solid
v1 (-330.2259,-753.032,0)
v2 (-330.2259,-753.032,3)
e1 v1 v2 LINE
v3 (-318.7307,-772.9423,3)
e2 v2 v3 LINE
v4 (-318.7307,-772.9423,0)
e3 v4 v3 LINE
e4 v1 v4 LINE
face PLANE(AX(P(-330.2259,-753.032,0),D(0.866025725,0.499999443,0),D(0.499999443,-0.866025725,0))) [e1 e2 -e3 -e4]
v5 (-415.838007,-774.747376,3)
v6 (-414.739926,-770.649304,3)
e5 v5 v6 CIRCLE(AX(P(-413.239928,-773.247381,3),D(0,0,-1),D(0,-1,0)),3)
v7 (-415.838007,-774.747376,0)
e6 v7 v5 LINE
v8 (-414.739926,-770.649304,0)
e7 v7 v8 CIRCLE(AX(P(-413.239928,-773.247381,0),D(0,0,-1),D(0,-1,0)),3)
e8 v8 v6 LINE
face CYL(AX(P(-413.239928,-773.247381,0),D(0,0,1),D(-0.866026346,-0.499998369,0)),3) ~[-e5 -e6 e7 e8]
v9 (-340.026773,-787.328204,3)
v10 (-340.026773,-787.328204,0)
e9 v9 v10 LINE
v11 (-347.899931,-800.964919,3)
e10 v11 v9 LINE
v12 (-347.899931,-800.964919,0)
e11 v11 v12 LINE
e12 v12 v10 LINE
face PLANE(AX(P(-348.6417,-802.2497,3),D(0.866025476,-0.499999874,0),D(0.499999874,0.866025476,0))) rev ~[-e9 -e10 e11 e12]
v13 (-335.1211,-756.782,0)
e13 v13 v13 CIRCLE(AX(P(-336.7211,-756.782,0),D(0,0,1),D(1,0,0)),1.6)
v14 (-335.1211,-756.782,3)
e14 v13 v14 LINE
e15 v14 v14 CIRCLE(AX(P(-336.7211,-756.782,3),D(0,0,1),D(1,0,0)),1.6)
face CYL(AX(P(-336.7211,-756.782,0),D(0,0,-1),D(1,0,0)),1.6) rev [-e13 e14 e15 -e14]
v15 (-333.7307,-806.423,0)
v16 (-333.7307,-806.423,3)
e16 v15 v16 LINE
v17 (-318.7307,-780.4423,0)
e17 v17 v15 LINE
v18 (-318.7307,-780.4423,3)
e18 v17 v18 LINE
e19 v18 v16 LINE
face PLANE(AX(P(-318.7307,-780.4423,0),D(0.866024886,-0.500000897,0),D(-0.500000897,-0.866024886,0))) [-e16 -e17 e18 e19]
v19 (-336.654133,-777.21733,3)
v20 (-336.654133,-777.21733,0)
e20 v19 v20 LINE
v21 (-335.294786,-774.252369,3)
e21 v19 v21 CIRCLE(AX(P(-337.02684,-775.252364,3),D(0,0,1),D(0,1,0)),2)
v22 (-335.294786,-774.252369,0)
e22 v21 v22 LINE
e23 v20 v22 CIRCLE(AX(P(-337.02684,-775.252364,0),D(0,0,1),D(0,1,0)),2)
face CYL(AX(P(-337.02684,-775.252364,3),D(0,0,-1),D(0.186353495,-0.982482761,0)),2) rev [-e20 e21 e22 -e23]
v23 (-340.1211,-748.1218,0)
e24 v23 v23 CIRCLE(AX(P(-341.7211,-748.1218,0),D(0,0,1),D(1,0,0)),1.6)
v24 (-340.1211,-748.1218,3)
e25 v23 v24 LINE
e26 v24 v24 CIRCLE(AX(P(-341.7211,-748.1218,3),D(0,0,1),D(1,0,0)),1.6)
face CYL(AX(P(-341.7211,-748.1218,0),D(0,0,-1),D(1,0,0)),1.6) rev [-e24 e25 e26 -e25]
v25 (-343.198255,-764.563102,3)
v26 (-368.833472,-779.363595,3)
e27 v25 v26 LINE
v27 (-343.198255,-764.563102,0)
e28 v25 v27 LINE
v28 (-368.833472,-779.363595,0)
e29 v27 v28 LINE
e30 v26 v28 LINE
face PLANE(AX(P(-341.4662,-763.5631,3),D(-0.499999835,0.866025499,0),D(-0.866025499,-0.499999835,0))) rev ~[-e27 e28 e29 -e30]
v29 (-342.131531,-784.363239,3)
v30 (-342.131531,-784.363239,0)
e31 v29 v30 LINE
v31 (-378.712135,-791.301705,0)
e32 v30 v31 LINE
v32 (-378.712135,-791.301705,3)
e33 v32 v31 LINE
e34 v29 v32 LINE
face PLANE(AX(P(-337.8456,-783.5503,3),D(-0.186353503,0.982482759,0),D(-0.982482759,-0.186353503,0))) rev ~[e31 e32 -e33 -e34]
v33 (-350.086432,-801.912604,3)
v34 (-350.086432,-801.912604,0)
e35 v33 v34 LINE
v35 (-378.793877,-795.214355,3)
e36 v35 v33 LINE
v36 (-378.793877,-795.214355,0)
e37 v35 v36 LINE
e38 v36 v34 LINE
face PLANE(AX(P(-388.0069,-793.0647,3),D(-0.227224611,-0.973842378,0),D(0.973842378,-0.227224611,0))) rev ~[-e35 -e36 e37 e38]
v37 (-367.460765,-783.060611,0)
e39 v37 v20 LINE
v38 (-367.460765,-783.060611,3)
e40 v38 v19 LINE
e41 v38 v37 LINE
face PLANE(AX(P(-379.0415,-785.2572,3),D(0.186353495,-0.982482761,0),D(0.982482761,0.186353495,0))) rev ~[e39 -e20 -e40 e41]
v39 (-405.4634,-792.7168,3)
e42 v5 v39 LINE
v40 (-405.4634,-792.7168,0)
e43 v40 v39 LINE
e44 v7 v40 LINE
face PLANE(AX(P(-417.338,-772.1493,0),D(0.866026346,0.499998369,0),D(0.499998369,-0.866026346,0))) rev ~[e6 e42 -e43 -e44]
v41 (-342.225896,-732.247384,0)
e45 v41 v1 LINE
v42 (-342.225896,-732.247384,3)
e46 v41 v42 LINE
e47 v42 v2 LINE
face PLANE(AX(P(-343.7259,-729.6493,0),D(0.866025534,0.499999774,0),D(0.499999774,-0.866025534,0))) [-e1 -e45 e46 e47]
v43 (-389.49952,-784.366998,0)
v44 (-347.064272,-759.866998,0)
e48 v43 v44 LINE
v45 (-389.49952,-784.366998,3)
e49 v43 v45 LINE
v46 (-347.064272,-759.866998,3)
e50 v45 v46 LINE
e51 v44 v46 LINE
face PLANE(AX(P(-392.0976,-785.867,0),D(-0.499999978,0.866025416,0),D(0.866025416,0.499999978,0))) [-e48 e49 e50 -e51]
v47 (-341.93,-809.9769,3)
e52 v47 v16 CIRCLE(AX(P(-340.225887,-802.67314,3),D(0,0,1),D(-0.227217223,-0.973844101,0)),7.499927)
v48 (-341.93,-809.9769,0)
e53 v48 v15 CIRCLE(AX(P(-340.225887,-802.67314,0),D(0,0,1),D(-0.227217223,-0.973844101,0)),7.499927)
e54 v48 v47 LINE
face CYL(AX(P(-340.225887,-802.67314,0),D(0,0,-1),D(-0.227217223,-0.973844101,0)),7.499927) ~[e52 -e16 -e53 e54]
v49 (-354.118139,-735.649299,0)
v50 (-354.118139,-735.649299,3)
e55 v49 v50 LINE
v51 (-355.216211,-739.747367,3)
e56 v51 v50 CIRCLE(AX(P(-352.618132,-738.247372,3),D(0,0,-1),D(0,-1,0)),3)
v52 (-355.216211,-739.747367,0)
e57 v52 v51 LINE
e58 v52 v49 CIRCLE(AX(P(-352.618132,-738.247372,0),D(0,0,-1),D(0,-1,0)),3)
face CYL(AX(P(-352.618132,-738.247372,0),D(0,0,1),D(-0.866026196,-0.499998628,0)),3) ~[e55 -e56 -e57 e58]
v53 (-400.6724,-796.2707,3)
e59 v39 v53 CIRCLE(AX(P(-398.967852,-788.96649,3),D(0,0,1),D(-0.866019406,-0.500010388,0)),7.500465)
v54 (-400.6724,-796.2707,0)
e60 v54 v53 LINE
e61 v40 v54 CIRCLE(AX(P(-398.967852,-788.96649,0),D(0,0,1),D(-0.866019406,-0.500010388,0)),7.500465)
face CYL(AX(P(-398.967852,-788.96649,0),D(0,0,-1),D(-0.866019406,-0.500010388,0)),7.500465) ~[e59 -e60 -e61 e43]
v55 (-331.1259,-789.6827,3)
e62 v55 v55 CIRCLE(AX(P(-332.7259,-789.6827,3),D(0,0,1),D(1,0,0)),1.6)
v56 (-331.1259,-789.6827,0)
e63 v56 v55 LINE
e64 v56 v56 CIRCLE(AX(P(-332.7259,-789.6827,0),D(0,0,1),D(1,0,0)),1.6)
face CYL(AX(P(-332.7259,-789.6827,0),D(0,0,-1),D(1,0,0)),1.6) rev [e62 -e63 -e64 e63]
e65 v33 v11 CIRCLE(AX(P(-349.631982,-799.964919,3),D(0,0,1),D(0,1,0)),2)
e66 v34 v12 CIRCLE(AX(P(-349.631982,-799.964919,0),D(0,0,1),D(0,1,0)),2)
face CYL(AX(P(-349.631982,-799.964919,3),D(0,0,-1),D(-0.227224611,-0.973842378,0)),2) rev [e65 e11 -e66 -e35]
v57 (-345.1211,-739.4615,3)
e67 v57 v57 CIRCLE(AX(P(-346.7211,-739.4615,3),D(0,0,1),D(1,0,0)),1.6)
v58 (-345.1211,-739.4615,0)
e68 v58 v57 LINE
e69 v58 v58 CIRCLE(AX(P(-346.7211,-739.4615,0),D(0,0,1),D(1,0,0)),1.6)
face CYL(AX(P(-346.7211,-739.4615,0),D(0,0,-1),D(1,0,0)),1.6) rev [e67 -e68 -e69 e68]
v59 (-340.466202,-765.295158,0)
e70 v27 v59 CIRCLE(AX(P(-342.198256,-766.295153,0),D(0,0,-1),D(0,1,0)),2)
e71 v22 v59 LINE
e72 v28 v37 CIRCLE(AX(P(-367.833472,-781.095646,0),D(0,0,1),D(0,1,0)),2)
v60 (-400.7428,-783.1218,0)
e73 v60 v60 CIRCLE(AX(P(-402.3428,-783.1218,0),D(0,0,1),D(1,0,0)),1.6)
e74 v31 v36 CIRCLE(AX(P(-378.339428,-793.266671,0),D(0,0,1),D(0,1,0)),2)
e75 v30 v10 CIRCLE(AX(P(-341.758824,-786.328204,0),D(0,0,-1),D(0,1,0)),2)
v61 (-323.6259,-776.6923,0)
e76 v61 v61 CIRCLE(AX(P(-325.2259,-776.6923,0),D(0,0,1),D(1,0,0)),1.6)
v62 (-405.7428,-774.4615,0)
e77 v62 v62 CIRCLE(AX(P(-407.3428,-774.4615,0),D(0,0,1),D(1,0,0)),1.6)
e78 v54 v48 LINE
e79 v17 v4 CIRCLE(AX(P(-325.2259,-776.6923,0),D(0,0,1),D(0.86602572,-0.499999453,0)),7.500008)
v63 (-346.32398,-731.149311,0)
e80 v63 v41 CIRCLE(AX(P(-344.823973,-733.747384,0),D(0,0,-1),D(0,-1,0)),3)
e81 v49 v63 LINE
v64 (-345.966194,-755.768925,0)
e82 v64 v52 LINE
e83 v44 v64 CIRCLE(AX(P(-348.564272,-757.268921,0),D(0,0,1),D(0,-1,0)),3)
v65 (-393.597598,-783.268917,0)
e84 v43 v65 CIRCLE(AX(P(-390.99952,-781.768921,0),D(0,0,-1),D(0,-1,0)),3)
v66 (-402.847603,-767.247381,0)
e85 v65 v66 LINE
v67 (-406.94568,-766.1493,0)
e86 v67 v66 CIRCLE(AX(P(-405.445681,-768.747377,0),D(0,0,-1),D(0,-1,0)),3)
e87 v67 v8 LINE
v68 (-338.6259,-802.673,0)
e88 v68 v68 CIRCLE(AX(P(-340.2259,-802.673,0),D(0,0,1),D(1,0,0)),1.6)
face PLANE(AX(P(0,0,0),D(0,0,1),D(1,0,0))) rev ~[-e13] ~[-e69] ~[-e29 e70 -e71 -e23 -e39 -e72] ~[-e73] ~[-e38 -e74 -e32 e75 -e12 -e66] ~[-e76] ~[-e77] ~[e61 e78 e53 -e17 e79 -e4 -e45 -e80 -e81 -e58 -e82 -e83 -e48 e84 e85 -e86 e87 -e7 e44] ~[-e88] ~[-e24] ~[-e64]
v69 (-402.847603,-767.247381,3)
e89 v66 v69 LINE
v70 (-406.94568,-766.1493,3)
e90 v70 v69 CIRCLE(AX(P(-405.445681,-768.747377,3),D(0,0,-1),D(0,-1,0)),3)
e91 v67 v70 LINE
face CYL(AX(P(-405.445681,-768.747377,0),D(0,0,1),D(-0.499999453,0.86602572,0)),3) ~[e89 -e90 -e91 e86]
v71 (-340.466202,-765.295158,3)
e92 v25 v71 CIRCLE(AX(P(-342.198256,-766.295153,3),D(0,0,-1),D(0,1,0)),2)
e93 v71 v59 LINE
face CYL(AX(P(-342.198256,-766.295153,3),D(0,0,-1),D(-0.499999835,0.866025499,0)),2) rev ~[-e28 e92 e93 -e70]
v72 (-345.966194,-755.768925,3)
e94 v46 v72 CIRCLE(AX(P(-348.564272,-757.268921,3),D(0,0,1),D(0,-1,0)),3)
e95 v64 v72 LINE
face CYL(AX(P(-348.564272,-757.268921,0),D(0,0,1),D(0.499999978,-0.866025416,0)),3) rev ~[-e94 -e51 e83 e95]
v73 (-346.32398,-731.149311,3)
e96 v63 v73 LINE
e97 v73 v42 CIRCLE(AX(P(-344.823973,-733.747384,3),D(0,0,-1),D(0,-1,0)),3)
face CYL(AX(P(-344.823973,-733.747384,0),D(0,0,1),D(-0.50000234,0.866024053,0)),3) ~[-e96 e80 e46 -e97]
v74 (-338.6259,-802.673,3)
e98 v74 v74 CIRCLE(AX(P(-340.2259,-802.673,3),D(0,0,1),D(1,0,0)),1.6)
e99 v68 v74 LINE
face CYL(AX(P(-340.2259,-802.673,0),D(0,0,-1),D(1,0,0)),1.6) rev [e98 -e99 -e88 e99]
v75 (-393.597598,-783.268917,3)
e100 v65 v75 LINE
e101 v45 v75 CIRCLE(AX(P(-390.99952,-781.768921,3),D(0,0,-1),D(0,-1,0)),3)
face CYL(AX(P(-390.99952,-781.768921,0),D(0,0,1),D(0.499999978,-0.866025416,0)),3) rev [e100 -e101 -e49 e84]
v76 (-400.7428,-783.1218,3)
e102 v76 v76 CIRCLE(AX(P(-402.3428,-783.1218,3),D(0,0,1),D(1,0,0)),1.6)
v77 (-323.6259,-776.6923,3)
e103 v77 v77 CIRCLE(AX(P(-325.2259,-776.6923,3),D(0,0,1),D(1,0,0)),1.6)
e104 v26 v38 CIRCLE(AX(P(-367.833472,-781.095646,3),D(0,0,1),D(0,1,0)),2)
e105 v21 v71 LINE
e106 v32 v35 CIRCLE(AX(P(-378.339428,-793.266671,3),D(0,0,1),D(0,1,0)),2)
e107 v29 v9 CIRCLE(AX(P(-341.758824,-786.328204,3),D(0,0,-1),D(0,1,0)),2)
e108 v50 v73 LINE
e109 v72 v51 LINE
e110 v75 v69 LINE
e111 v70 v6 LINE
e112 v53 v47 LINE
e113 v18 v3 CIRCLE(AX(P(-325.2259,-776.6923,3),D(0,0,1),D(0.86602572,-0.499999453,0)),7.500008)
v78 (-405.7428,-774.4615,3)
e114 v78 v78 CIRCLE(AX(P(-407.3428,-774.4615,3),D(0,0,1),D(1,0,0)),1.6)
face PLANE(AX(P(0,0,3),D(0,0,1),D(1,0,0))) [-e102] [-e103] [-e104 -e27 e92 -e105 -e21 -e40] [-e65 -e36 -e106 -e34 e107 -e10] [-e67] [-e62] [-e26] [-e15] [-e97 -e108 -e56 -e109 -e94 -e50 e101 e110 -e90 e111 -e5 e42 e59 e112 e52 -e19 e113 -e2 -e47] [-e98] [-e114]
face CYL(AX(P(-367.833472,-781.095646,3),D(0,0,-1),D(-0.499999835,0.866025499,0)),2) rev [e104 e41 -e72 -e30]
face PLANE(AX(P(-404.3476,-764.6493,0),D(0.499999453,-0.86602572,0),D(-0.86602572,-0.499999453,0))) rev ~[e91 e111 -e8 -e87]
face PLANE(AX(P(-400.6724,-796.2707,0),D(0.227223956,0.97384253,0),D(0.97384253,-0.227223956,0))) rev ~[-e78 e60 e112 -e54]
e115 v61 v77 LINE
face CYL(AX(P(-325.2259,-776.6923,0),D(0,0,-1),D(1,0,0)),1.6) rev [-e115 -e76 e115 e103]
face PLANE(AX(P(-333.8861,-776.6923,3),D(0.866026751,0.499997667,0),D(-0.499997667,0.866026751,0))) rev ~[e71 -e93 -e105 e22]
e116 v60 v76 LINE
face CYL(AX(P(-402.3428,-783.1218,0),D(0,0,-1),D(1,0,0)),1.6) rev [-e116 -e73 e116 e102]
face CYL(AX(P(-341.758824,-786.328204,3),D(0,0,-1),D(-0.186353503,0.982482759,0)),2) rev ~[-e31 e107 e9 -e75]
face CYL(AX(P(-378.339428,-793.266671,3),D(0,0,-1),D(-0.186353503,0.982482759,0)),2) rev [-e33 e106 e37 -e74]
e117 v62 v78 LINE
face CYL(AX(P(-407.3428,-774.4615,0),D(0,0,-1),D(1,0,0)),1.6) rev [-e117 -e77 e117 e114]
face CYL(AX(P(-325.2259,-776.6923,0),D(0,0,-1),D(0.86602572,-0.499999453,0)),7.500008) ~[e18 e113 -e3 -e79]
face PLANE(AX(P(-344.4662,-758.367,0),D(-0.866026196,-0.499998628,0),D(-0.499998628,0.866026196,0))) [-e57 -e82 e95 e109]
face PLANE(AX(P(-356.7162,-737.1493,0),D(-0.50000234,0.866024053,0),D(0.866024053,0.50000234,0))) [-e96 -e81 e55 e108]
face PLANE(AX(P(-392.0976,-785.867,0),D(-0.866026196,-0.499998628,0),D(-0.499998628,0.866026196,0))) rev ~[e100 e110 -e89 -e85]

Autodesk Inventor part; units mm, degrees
ref_plane "YZ Plane" through (0, 0, 0) normal (1, 0, 0) x (0, 1, 0)
ref_plane "XZ Plane" through (0, 0, 0) normal (0, 1, 0) x (-1, 0, 0)
ref_plane "XY Plane" through (0, 0, 0) normal (0, 0, 1) x (1, 0, 0)
sketch "スケッチ1" plane through (0, 0, 0) normal (0, 0, 1) x (1, 0, 0)
  line L0 (67.5, 17.5) -> (-67.5, 17.5) construction
  line L1 (-67.5, 17.5) -> (-67.5, -17.5) construction
  line L2 (-67.5, -17.5) -> (67.5, -17.5) construction
  line L3 (67.5, -17.5) -> (67.5, 17.5) construction
  line L4 (67.5, 17.5) -> (-67.5, -17.5) construction
  line L5 (-67.5, 17.5) -> (67.5, -17.5) construction
  circle A0 centre (-60, 35) radius 1.6 construction
  circle A1 centre (-70, 35) radius 1.6 construction
  line L6 (-77.5, 27.5) -> (-53, 27.5) construction
  line L7 (-53, 27.5) -> (-53, 42.5) construction
  line L8 (-53, 42.5) -> (-80, 42.5) construction
  line L9 (-77.5, 27.5) -> (-77.5, -27.5) construction
  line L10 (-77.5, -27.5) -> (-53, -27.5) construction
  line L11 (-53, -27.5) -> (-53, -42.5) construction
  line L12 (-53, -42.5) -> (-80, -42.5) construction
  circle A2 centre (-60, -35) radius 1.6 construction
  circle A3 centre (-70, -35) radius 1.6 construction
  circle A4 centre (-80, -35) radius 1.6 construction
  line L13 (124.2308, -31.7536) -> (484.5935, -392.1164)
  line L14 (484.5935, -392.1164) -> (488.7129, -553.575)
  line L15 (-80, 21.2868) -> (-468.838, -367.5512) construction
  line L16 (-468.838, -367.5512) -> (-479.4446, -356.9446)
  line L17 (-479.4446, -356.9446) -> (-90.6066, 31.8934) construction
  line L18 (-90.6066, 31.8934) -> (-80, 21.2868) construction
  line L19 (-80, 42.5) -> (-80, 5.3052) construction
  circle A5 centre (-92.3744, 19.519) radius 1.6 construction
  circle A6 centre (-102.981, 8.9124) radius 1.6 construction
  circle A7 centre (-113.5876, -1.6942) radius 1.6 construction
  line L20 (-92.3744, 19.519) -> (-113.5876, -1.6942) construction
  circle A8 centre (-437.941, -345.2067) radius 1.6
  circle A9 centre (-426.1402, -333.4059) radius 1.6
  line L21 (-388.4374, -772.2067) -> (-358.1265, -754.7067) construction
  line L22 (-358.1265, -754.7067) -> (-425.6265, -637.7933) construction
  line L23 (-455.9374, -655.2933) -> (-358.1265, -754.7067) construction
  line L24 (-388.4374, -772.2067) -> (-425.6265, -637.7933) construction
  line L25 (-455.9374, -655.2933) -> (-388.4374, -772.2067) construction
  line L26 (-425.6265, -637.7933) -> (-455.9374, -655.2933) construction
  line L27 (455.9374, -655.2933) -> (425.6265, -637.7933) construction
  line L28 (425.6265, -637.7933) -> (358.1265, -754.7067) construction
  line L29 (388.4374, -772.2067) -> (425.6265, -637.7933) construction
  line L30 (455.9374, -655.2933) -> (358.1265, -754.7067) construction
  line L31 (388.4374, -772.2067) -> (455.9374, -655.2933) construction
  line L32 (358.1265, -754.7067) -> (388.4374, -772.2067) construction
  line L33 (0, 0) -> (0, -263.4473) construction
  circle A10 centre (80, -35) radius 1.6 construction
  line L34 (67.5, 17.5) -> (67.5, -17.5) construction
  line L35 (77.5, 27.5) -> (53, 27.5) construction
  line L36 (77.5, 27.5) -> (77.5, -27.5) construction
  line L37 (77.5, -27.5) -> (53, -27.5) construction
  circle A11 centre (60, -35) radius 1.6 construction
  circle A12 centre (70, -35) radius 1.6 construction
  line L38 (53, -27.5) -> (53, -42.5) construction
  line L39 (53, -42.5) -> (80, -42.5) construction
  circle A13 centre (60, 35) radius 1.6 construction
  circle A14 centre (70, 35) radius 1.6 construction
  line L40 (80, 42.5) -> (80, 5.3052) construction
  line L41 (53, 42.5) -> (80, 42.5) construction
  line L42 (53, 27.5) -> (53, 42.5) construction
  line L43 (-392.0976, -785.867) -> (-404.3476, -764.6493)
  line L44 (-388.4374, -772.2067) -> (-358.1265, -754.7067) construction
  line L45 (-392.0976, -785.867) -> (-344.4662, -758.367)
  circle A15 centre (-336.7211, -756.782) radius 1.6
  circle A16 centre (-341.7211, -748.1218) radius 1.6
  line L46 (-343.7259, -729.6493) -> (-330.2259, -753.032)
  circle A17 centre (-346.7211, -739.4615) radius 1.6
  line L47 (-356.7162, -737.1493) -> (-343.7259, -729.6493)
  line L48 (-344.4662, -758.367) -> (-356.7162, -737.1493)
  circle A18 centre (-407.3428, -774.4615) radius 1.6
  circle A19 centre (-402.3428, -783.1218) radius 1.6
  line L49 (-404.3476, -764.6493) -> (-417.338, -772.1493)
  line L50 (-417.338, -772.1493) -> (-405.4634, -792.7168)
  line L51 (-403.838, -795.532) -> (-371.6264, -776.9346) construction
  line L52 (-425.6265, -637.7933) -> (-455.9374, -655.2933) construction
  line L53 (-409.7162, -645.3507) -> (-396.7259, -637.8507)
  circle A20 centre (-406.7211, -635.5385) radius 1.6
  line L54 (-455.9374, -655.2933) -> (-425.6265, -637.7933) construction
  circle A21 centre (-411.7211, -626.8782) radius 1.6
  line L55 (-469.5976, -651.633) -> (-421.9662, -624.133)
  line L56 (-421.9662, -624.133) -> (-409.7162, -645.3507)
  line L57 (-396.7259, -637.8507) -> (-410.2259, -614.468)
  circle A22 centre (-416.7211, -618.218) radius 1.6
  line L58 (-469.5976, -651.633) -> (-457.3476, -672.8507)
  circle A23 centre (-467.3428, -670.5385) radius 1.6
  circle A24 centre (-472.3428, -661.8782) radius 1.6
  line L59 (-483.838, -656.968) -> (-451.6264, -638.3706) construction
  line L60 (-470.338, -680.3507) -> (-483.838, -656.968)
  line L61 (-457.3476, -672.8507) -> (-470.338, -680.3507)
  line L62 (469.5976, -651.633) -> (457.3476, -672.8507)
  line L63 (455.9374, -655.2933) -> (425.6265, -637.7933) construction
  line L64 (469.5976, -651.633) -> (421.9662, -624.133)
  circle A25 centre (416.7211, -618.218) radius 1.6
  circle A26 centre (411.7211, -626.8782) radius 1.6
  line L65 (396.7259, -637.8507) -> (410.2259, -614.468)
  circle A27 centre (406.7211, -635.5385) radius 1.6
  line L66 (409.7162, -645.3507) -> (396.7259, -637.8507)
  line L67 (421.9662, -624.133) -> (409.7162, -645.3507)
  circle A28 centre (467.3428, -670.5385) radius 1.6
  circle A29 centre (472.3428, -661.8782) radius 1.6
  line L68 (457.3476, -672.8507) -> (470.338, -680.3507)
  line L69 (470.338, -680.3507) -> (483.838, -656.968)
  line L70 (483.838, -656.968) -> (451.6264, -638.3706) construction
  line L71 (358.1265, -754.7067) -> (388.4374, -772.2067) construction
  line L72 (356.7162, -737.1493) -> (343.7259, -729.6493)
  circle A30 centre (346.7211, -739.4615) radius 1.6
  line L73 (388.4374, -772.2067) -> (358.1265, -754.7067) construction
  circle A31 centre (341.7211, -748.1218) radius 1.6
  line L74 (392.0976, -785.867) -> (344.4662, -758.367)
  line L75 (344.4662, -758.367) -> (356.7162, -737.1493)
  line L76 (343.7259, -729.6493) -> (330.2259, -753.032)
  circle A32 centre (336.7211, -756.782) radius 1.6
  line L77 (392.0976, -785.867) -> (404.3476, -764.6493)
  circle A33 centre (407.3428, -774.4615) radius 1.6
  circle A34 centre (402.3428, -783.1218) radius 1.6
  line L78 (403.838, -795.532) -> (371.6264, -776.9346) construction
  line L79 (417.338, -772.1493) -> (403.838, -795.532)
  line L80 (404.3476, -764.6493) -> (417.338, -772.1493)
  line L81 (-483.838, -367.5512) -> (-468.838, -367.5512)
  line L82 (-468.838, -367.5512) -> (-468.838, -648.3077) construction
  line L83 (-468.838, -648.3077) -> (-483.838, -648.3077) construction
  line L84 (-483.838, -648.3077) -> (-483.838, -367.5512) construction
  line L85 (-283.2277, -604.4352) -> (-262.2277, -640.8083) construction
  line L86 (345.2492, -497.0108) -> (305.7786, -565.3759) construction
  line L87 (250, -655.004) -> (-250, -655.004) construction
  line L88 (-250, -655.004) -> (-250, -1155.004) construction
  line L89 (-250, -1155.004) -> (250, -1155.004) construction
  line L90 (250, -1155.004) -> (250, -655.004) construction
  line L91 (250, -655.004) -> (-250, -1155.004) construction
  line L92 (-250, -655.004) -> (250, -1155.004) construction
  line L93 (-12.841, -157.5) -> (15.1134, -157.5) construction
  circle A35 centre (-3.0548, -432.807) radius 212.5 construction
  line L94 (496.9452, 30.2659) -> (-503.0548, 30.2659) construction
  line L95 (-503.0548, 30.2659) -> (-503.0548, -969.7341) construction
  line L96 (-503.0548, -969.7341) -> (496.9452, -969.7341) construction
  line L97 (496.9452, -969.7341) -> (496.9452, 30.2659) construction
  line L98 (496.9452, 30.2659) -> (-503.0548, -969.7341) construction
  line L99 (-503.0548, 30.2659) -> (496.9452, -969.7341) construction
  circle A36 centre (-3.0548, -432.807) radius 250 construction
  line L100 (-80, 42.5) -> (-90.6066, 31.8934) construction
  line L101 (-80, 42.5) -> (-118.8909, 3.6091) construction
  line L102 (-118.8909, -6.2904) -> (-113.234, -11.9472) construction
  line L103 (-113.234, -11.9472) -> (-85.3433, -40.263) construction
  arc A37 (-118.8909, 3.6091) -> (-118.8909, -6.2904) centre (-113.9411, -1.3406) ccw construction
  arc A38 (-85.3433, -40.263) -> (-80, -42.5) centre (-80, -35) ccw construction
  line L104 (-80, 42.5) -> (-53, 42.5) construction
  circle A39 centre (-476.338, -638.3077) radius 1.6
  circle A40 centre (-476.338, -623.3077) radius 1.6
  circle A41 centre (-476.338, -608.2553) radius 1.6
  line L105 (-483.838, -656.968) -> (-483.838, -601.2553)
  line L106 (-483.838, -601.2553) -> (-468.838, -601.2553)
  line L107 (-468.838, -601.2553) -> (-415.3976, -610.8357)
  arc A42 (-410.2259, -614.468) -> (-415.3976, -610.8357) centre (-416.7211, -618.218) ccw
  line L108 (-255, -181.8915) -> (-270, -181.8915)
  line L109 (-270, -181.8915) -> (-270, -631.0383) construction
  line L110 (-270, -666.0383) -> (-255, -666.0383) construction
  line L111 (-255, -666.0383) -> (-255, -181.8915) construction
  line L112 (-271.0048, -667.7787) -> (-287.7211, -696.7321)
  line L113 (-426.5432, -937.1791) -> (-415.5605, -943.52)
  line L114 (-257.0096, -673.5383) -> (-270, -666.0383) construction
  line L115 (-325.2259, -761.6923) -> (-338.2162, -769.1923) construction
  circle A43 centre (-325.2259, -776.6923) radius 1.6
  circle A44 centre (-332.7259, -789.6827) radius 1.6
  circle A45 centre (-340.2259, -802.673) radius 1.6
  line L116 (-325.2259, -776.6923) -> (-340.2259, -802.673) construction
  line L117 (-330.2259, -753.032) -> (-318.7307, -772.9423)
  line L118 (-318.7307, -780.4423) -> (-333.7307, -806.423)
  line L119 (-400.6724, -796.2707) -> (-341.93, -809.9769)
  arc A46 (-405.4634, -792.7168) -> (-400.6724, -796.2707) centre (-398.9682, -788.9668) ccw
  arc A47 (-341.93, -809.9769) -> (-333.7307, -806.423) centre (-340.2259, -802.673) ccw
  arc A48 (-318.7307, -780.4423) -> (-318.7307, -772.9423) centre (-325.2259, -776.6923) ccw
  circle A49 centre (-268.7259, -678.8314) radius 1.6
  circle A50 centre (-276.2259, -691.8218) radius 1.6
  line L120 (-268.7259, -678.8314) -> (-283.7259, -704.8122) construction
  circle A51 centre (-262.5, -656.0383) radius 1.6
  circle A52 centre (-262.5, -641.0383) radius 1.6
  line L121 (-270, -631.0383) -> (-255, -631.0383)
  line L122 (-287.7211, -696.7321) -> (-274.7307, -704.2321)
  line L123 (-274.7307, -704.2321) -> (-257.0096, -673.5383)
  line L124 (-255, -631.0383) -> (-255, -666.0383)
  arc A53 (-257.0096, -673.5383) -> (-255, -666.0383) centre (-270, -666.0383) ccw
  line L125 (-270, -631.0383) -> (-270, -664.0287)
  line L126 (-287.7211, -696.7321) -> (-426.5432, -937.1791) construction
  arc A54 (-271.0048, -667.7787) -> (-270, -664.0287) centre (-277.5, -664.0287) ccw
  point P0 (-77.5, 0)
  point P1 (0, -470)
  point P2 (-123.8406, -1.3406)
  point P3 (-102.981, 8.9124)
  point P4 (-407.0319, -705)
  point P5 (-407.0319, -705)
  point P6 (407.0319, -705)
  point P7 (407.0319, -705)
  point P8 (77.5, 0)
  point P9 (-368.2819, -772.117)
  point P10 (-385.4668, -784.9254)
  point P11 (-445.7819, -637.883)
  point P12 (445.7819, -637.883)
  point P13 (465.4668, -646.3614)
  point P14 (368.2819, -772.117)
  point P15 (0, -905.004)
  point P16 (-3.0548, -469.7341)
  point P17 (0, -905.004)
  point P18 (-262.5, -666.0383)
  dimension "d4" = 135
  dimension "d5" = 35
  dimension "d6" = 3.2
  dimension "d7" = 3.2
  dimension "d8" = 10
  dimension "d9" = 15
  dimension "d10" = 10
  dimension "d11" = 7.5
  dimension "d12" = 7
  dimension "d13" = 70
  dimension "d14" = 3.2
  dimension "d15" = 3.2
  dimension "d16" = 3.2
  dimension "d17" = 10
  dimension "d18" = 10
  dimension "d19" = 7
  dimension "d20" = 15
  dimension "d21" = 7.5
  dimension "d22" = 10
  dimension "d23" = 10
  dimension "d24" = 135
  dimension "d25" = 15
  dimension "d26" = 10
  dimension "d27" = 3.2
  dimension "d28" = 3.2
  dimension "d29" = 3.2
  dimension "d30" = 10
  dimension "d31" = 15
  dimension "d32" = 15
  dimension "d33" = 7.5
  dimension "d34" = 45
  dimension "d35" = 3.2
  dimension "d36" = 3.2
  dimension "d37" = 360
  dimension "d38" = 360
  dimension "d39" = 470
  dimension "d40" = 15
  dimension "d41" = 200
  dimension "d42" = 200
  dimension "d43" = 500
  dimension "d44" = 500
  dimension "d45" = 200
  dimension "d46" = 425
  dimension "d47" = 1000
  dimension "d48" = 1000
  dimension "d49" = 42
  dimension "d50" = 500
  dimension "d51" = 7
  dimension "d52" = 7
  dimension "d53" = 3.2
  dimension "d54" = 3.2
  dimension "d55" = 3.2
  dimension "d56" = 15
  dimension "d57" = 15.0524
  dimension "d58" = 7.5
  dimension "d59" = 10
  dimension "d60" = 7
  dimension "d61" = 15
  dimension "d62" = 5
  dimension "d64" = 150
  dimension "d65" = 10
  dimension "d66" = 15
  dimension "d67" = 3.2
  dimension "d68" = 3.2
extrude "押し出し1" add sketch "スケッチ1" along normal blind 3 contours L45 L48 L47 L46 L117 A48 L118 A47 L119 A46 L50 L49 L43
fillet "フィレット1" radius 3 6 edges at (-417.338, -772.1493, 1.5) (-404.3476, -764.6493, 1.5) (-392.0976, -785.867, 1.5) (-344.4662, -758.367, 1.5) (-356.7162, -737.1493, 1.5) (-343.7259, -729.6493, 1.5)
sketch "スケッチ2" plane through (0, 0, 3) normal (0, 0, 1) x (1, 0, 0)
  line L0 (-388.0069, -793.0647) -> (-348.6417, -802.2497)
  line L1 (-348.6417, -802.2497) -> (-337.8456, -783.5503)
  line L2 (-337.8456, -783.5503) -> (-388.0069, -793.0647)
  line L3 (-379.0415, -785.2572) -> (-333.8861, -776.6923)
  line L4 (-333.8861, -776.6923) -> (-341.4662, -763.5631)
  line L5 (-341.4662, -763.5631) -> (-379.0415, -785.2572)
  line L6 (-347.0643, -759.867) -> (-389.4996, -784.367) projected
  line L7 (-400.6724, -796.2707) -> (-341.93, -809.9769) projected
  line L8 (-333.7307, -806.423) -> (-318.7307, -780.4423) projected
  line L9 (-318.7307, -772.9423) -> (-342.2259, -732.2474) projected
  circle A0 centre (-407.3428, -774.4615) radius 1.6 construction
  line L10 (-407.3428, -774.4615) -> (-397.3428, -791.782) construction
  circle A1 centre (-402.3428, -783.1218) radius 1.6 construction
  line L11 (-378.9734, -788.2978) -> (-397.3428, -791.782) construction
  point P0 (0, 0)
  dimension "d83" = 6
  dimension "d84" = 6
  dimension "d86" = 15
  dimension "d87" = 15
  dimension "d88" = 6
  dimension "d89" = 10
  dimension "d90" = 3
extrude "押し出し2" cut sketch "スケッチ2" against normal blind 3
fillet "フィレット2" radius 2 6 edges at (-341.4662, -763.5631, 1.5) (-333.8861, -776.6923, 1.5) (-379.0415, -785.2572, 1.5) (-388.0069, -793.0647, 1.5) (-348.6417, -802.2497, 1.5) (-337.8456, -783.5503, 1.5)
properties material "アルミニウム 6061"
